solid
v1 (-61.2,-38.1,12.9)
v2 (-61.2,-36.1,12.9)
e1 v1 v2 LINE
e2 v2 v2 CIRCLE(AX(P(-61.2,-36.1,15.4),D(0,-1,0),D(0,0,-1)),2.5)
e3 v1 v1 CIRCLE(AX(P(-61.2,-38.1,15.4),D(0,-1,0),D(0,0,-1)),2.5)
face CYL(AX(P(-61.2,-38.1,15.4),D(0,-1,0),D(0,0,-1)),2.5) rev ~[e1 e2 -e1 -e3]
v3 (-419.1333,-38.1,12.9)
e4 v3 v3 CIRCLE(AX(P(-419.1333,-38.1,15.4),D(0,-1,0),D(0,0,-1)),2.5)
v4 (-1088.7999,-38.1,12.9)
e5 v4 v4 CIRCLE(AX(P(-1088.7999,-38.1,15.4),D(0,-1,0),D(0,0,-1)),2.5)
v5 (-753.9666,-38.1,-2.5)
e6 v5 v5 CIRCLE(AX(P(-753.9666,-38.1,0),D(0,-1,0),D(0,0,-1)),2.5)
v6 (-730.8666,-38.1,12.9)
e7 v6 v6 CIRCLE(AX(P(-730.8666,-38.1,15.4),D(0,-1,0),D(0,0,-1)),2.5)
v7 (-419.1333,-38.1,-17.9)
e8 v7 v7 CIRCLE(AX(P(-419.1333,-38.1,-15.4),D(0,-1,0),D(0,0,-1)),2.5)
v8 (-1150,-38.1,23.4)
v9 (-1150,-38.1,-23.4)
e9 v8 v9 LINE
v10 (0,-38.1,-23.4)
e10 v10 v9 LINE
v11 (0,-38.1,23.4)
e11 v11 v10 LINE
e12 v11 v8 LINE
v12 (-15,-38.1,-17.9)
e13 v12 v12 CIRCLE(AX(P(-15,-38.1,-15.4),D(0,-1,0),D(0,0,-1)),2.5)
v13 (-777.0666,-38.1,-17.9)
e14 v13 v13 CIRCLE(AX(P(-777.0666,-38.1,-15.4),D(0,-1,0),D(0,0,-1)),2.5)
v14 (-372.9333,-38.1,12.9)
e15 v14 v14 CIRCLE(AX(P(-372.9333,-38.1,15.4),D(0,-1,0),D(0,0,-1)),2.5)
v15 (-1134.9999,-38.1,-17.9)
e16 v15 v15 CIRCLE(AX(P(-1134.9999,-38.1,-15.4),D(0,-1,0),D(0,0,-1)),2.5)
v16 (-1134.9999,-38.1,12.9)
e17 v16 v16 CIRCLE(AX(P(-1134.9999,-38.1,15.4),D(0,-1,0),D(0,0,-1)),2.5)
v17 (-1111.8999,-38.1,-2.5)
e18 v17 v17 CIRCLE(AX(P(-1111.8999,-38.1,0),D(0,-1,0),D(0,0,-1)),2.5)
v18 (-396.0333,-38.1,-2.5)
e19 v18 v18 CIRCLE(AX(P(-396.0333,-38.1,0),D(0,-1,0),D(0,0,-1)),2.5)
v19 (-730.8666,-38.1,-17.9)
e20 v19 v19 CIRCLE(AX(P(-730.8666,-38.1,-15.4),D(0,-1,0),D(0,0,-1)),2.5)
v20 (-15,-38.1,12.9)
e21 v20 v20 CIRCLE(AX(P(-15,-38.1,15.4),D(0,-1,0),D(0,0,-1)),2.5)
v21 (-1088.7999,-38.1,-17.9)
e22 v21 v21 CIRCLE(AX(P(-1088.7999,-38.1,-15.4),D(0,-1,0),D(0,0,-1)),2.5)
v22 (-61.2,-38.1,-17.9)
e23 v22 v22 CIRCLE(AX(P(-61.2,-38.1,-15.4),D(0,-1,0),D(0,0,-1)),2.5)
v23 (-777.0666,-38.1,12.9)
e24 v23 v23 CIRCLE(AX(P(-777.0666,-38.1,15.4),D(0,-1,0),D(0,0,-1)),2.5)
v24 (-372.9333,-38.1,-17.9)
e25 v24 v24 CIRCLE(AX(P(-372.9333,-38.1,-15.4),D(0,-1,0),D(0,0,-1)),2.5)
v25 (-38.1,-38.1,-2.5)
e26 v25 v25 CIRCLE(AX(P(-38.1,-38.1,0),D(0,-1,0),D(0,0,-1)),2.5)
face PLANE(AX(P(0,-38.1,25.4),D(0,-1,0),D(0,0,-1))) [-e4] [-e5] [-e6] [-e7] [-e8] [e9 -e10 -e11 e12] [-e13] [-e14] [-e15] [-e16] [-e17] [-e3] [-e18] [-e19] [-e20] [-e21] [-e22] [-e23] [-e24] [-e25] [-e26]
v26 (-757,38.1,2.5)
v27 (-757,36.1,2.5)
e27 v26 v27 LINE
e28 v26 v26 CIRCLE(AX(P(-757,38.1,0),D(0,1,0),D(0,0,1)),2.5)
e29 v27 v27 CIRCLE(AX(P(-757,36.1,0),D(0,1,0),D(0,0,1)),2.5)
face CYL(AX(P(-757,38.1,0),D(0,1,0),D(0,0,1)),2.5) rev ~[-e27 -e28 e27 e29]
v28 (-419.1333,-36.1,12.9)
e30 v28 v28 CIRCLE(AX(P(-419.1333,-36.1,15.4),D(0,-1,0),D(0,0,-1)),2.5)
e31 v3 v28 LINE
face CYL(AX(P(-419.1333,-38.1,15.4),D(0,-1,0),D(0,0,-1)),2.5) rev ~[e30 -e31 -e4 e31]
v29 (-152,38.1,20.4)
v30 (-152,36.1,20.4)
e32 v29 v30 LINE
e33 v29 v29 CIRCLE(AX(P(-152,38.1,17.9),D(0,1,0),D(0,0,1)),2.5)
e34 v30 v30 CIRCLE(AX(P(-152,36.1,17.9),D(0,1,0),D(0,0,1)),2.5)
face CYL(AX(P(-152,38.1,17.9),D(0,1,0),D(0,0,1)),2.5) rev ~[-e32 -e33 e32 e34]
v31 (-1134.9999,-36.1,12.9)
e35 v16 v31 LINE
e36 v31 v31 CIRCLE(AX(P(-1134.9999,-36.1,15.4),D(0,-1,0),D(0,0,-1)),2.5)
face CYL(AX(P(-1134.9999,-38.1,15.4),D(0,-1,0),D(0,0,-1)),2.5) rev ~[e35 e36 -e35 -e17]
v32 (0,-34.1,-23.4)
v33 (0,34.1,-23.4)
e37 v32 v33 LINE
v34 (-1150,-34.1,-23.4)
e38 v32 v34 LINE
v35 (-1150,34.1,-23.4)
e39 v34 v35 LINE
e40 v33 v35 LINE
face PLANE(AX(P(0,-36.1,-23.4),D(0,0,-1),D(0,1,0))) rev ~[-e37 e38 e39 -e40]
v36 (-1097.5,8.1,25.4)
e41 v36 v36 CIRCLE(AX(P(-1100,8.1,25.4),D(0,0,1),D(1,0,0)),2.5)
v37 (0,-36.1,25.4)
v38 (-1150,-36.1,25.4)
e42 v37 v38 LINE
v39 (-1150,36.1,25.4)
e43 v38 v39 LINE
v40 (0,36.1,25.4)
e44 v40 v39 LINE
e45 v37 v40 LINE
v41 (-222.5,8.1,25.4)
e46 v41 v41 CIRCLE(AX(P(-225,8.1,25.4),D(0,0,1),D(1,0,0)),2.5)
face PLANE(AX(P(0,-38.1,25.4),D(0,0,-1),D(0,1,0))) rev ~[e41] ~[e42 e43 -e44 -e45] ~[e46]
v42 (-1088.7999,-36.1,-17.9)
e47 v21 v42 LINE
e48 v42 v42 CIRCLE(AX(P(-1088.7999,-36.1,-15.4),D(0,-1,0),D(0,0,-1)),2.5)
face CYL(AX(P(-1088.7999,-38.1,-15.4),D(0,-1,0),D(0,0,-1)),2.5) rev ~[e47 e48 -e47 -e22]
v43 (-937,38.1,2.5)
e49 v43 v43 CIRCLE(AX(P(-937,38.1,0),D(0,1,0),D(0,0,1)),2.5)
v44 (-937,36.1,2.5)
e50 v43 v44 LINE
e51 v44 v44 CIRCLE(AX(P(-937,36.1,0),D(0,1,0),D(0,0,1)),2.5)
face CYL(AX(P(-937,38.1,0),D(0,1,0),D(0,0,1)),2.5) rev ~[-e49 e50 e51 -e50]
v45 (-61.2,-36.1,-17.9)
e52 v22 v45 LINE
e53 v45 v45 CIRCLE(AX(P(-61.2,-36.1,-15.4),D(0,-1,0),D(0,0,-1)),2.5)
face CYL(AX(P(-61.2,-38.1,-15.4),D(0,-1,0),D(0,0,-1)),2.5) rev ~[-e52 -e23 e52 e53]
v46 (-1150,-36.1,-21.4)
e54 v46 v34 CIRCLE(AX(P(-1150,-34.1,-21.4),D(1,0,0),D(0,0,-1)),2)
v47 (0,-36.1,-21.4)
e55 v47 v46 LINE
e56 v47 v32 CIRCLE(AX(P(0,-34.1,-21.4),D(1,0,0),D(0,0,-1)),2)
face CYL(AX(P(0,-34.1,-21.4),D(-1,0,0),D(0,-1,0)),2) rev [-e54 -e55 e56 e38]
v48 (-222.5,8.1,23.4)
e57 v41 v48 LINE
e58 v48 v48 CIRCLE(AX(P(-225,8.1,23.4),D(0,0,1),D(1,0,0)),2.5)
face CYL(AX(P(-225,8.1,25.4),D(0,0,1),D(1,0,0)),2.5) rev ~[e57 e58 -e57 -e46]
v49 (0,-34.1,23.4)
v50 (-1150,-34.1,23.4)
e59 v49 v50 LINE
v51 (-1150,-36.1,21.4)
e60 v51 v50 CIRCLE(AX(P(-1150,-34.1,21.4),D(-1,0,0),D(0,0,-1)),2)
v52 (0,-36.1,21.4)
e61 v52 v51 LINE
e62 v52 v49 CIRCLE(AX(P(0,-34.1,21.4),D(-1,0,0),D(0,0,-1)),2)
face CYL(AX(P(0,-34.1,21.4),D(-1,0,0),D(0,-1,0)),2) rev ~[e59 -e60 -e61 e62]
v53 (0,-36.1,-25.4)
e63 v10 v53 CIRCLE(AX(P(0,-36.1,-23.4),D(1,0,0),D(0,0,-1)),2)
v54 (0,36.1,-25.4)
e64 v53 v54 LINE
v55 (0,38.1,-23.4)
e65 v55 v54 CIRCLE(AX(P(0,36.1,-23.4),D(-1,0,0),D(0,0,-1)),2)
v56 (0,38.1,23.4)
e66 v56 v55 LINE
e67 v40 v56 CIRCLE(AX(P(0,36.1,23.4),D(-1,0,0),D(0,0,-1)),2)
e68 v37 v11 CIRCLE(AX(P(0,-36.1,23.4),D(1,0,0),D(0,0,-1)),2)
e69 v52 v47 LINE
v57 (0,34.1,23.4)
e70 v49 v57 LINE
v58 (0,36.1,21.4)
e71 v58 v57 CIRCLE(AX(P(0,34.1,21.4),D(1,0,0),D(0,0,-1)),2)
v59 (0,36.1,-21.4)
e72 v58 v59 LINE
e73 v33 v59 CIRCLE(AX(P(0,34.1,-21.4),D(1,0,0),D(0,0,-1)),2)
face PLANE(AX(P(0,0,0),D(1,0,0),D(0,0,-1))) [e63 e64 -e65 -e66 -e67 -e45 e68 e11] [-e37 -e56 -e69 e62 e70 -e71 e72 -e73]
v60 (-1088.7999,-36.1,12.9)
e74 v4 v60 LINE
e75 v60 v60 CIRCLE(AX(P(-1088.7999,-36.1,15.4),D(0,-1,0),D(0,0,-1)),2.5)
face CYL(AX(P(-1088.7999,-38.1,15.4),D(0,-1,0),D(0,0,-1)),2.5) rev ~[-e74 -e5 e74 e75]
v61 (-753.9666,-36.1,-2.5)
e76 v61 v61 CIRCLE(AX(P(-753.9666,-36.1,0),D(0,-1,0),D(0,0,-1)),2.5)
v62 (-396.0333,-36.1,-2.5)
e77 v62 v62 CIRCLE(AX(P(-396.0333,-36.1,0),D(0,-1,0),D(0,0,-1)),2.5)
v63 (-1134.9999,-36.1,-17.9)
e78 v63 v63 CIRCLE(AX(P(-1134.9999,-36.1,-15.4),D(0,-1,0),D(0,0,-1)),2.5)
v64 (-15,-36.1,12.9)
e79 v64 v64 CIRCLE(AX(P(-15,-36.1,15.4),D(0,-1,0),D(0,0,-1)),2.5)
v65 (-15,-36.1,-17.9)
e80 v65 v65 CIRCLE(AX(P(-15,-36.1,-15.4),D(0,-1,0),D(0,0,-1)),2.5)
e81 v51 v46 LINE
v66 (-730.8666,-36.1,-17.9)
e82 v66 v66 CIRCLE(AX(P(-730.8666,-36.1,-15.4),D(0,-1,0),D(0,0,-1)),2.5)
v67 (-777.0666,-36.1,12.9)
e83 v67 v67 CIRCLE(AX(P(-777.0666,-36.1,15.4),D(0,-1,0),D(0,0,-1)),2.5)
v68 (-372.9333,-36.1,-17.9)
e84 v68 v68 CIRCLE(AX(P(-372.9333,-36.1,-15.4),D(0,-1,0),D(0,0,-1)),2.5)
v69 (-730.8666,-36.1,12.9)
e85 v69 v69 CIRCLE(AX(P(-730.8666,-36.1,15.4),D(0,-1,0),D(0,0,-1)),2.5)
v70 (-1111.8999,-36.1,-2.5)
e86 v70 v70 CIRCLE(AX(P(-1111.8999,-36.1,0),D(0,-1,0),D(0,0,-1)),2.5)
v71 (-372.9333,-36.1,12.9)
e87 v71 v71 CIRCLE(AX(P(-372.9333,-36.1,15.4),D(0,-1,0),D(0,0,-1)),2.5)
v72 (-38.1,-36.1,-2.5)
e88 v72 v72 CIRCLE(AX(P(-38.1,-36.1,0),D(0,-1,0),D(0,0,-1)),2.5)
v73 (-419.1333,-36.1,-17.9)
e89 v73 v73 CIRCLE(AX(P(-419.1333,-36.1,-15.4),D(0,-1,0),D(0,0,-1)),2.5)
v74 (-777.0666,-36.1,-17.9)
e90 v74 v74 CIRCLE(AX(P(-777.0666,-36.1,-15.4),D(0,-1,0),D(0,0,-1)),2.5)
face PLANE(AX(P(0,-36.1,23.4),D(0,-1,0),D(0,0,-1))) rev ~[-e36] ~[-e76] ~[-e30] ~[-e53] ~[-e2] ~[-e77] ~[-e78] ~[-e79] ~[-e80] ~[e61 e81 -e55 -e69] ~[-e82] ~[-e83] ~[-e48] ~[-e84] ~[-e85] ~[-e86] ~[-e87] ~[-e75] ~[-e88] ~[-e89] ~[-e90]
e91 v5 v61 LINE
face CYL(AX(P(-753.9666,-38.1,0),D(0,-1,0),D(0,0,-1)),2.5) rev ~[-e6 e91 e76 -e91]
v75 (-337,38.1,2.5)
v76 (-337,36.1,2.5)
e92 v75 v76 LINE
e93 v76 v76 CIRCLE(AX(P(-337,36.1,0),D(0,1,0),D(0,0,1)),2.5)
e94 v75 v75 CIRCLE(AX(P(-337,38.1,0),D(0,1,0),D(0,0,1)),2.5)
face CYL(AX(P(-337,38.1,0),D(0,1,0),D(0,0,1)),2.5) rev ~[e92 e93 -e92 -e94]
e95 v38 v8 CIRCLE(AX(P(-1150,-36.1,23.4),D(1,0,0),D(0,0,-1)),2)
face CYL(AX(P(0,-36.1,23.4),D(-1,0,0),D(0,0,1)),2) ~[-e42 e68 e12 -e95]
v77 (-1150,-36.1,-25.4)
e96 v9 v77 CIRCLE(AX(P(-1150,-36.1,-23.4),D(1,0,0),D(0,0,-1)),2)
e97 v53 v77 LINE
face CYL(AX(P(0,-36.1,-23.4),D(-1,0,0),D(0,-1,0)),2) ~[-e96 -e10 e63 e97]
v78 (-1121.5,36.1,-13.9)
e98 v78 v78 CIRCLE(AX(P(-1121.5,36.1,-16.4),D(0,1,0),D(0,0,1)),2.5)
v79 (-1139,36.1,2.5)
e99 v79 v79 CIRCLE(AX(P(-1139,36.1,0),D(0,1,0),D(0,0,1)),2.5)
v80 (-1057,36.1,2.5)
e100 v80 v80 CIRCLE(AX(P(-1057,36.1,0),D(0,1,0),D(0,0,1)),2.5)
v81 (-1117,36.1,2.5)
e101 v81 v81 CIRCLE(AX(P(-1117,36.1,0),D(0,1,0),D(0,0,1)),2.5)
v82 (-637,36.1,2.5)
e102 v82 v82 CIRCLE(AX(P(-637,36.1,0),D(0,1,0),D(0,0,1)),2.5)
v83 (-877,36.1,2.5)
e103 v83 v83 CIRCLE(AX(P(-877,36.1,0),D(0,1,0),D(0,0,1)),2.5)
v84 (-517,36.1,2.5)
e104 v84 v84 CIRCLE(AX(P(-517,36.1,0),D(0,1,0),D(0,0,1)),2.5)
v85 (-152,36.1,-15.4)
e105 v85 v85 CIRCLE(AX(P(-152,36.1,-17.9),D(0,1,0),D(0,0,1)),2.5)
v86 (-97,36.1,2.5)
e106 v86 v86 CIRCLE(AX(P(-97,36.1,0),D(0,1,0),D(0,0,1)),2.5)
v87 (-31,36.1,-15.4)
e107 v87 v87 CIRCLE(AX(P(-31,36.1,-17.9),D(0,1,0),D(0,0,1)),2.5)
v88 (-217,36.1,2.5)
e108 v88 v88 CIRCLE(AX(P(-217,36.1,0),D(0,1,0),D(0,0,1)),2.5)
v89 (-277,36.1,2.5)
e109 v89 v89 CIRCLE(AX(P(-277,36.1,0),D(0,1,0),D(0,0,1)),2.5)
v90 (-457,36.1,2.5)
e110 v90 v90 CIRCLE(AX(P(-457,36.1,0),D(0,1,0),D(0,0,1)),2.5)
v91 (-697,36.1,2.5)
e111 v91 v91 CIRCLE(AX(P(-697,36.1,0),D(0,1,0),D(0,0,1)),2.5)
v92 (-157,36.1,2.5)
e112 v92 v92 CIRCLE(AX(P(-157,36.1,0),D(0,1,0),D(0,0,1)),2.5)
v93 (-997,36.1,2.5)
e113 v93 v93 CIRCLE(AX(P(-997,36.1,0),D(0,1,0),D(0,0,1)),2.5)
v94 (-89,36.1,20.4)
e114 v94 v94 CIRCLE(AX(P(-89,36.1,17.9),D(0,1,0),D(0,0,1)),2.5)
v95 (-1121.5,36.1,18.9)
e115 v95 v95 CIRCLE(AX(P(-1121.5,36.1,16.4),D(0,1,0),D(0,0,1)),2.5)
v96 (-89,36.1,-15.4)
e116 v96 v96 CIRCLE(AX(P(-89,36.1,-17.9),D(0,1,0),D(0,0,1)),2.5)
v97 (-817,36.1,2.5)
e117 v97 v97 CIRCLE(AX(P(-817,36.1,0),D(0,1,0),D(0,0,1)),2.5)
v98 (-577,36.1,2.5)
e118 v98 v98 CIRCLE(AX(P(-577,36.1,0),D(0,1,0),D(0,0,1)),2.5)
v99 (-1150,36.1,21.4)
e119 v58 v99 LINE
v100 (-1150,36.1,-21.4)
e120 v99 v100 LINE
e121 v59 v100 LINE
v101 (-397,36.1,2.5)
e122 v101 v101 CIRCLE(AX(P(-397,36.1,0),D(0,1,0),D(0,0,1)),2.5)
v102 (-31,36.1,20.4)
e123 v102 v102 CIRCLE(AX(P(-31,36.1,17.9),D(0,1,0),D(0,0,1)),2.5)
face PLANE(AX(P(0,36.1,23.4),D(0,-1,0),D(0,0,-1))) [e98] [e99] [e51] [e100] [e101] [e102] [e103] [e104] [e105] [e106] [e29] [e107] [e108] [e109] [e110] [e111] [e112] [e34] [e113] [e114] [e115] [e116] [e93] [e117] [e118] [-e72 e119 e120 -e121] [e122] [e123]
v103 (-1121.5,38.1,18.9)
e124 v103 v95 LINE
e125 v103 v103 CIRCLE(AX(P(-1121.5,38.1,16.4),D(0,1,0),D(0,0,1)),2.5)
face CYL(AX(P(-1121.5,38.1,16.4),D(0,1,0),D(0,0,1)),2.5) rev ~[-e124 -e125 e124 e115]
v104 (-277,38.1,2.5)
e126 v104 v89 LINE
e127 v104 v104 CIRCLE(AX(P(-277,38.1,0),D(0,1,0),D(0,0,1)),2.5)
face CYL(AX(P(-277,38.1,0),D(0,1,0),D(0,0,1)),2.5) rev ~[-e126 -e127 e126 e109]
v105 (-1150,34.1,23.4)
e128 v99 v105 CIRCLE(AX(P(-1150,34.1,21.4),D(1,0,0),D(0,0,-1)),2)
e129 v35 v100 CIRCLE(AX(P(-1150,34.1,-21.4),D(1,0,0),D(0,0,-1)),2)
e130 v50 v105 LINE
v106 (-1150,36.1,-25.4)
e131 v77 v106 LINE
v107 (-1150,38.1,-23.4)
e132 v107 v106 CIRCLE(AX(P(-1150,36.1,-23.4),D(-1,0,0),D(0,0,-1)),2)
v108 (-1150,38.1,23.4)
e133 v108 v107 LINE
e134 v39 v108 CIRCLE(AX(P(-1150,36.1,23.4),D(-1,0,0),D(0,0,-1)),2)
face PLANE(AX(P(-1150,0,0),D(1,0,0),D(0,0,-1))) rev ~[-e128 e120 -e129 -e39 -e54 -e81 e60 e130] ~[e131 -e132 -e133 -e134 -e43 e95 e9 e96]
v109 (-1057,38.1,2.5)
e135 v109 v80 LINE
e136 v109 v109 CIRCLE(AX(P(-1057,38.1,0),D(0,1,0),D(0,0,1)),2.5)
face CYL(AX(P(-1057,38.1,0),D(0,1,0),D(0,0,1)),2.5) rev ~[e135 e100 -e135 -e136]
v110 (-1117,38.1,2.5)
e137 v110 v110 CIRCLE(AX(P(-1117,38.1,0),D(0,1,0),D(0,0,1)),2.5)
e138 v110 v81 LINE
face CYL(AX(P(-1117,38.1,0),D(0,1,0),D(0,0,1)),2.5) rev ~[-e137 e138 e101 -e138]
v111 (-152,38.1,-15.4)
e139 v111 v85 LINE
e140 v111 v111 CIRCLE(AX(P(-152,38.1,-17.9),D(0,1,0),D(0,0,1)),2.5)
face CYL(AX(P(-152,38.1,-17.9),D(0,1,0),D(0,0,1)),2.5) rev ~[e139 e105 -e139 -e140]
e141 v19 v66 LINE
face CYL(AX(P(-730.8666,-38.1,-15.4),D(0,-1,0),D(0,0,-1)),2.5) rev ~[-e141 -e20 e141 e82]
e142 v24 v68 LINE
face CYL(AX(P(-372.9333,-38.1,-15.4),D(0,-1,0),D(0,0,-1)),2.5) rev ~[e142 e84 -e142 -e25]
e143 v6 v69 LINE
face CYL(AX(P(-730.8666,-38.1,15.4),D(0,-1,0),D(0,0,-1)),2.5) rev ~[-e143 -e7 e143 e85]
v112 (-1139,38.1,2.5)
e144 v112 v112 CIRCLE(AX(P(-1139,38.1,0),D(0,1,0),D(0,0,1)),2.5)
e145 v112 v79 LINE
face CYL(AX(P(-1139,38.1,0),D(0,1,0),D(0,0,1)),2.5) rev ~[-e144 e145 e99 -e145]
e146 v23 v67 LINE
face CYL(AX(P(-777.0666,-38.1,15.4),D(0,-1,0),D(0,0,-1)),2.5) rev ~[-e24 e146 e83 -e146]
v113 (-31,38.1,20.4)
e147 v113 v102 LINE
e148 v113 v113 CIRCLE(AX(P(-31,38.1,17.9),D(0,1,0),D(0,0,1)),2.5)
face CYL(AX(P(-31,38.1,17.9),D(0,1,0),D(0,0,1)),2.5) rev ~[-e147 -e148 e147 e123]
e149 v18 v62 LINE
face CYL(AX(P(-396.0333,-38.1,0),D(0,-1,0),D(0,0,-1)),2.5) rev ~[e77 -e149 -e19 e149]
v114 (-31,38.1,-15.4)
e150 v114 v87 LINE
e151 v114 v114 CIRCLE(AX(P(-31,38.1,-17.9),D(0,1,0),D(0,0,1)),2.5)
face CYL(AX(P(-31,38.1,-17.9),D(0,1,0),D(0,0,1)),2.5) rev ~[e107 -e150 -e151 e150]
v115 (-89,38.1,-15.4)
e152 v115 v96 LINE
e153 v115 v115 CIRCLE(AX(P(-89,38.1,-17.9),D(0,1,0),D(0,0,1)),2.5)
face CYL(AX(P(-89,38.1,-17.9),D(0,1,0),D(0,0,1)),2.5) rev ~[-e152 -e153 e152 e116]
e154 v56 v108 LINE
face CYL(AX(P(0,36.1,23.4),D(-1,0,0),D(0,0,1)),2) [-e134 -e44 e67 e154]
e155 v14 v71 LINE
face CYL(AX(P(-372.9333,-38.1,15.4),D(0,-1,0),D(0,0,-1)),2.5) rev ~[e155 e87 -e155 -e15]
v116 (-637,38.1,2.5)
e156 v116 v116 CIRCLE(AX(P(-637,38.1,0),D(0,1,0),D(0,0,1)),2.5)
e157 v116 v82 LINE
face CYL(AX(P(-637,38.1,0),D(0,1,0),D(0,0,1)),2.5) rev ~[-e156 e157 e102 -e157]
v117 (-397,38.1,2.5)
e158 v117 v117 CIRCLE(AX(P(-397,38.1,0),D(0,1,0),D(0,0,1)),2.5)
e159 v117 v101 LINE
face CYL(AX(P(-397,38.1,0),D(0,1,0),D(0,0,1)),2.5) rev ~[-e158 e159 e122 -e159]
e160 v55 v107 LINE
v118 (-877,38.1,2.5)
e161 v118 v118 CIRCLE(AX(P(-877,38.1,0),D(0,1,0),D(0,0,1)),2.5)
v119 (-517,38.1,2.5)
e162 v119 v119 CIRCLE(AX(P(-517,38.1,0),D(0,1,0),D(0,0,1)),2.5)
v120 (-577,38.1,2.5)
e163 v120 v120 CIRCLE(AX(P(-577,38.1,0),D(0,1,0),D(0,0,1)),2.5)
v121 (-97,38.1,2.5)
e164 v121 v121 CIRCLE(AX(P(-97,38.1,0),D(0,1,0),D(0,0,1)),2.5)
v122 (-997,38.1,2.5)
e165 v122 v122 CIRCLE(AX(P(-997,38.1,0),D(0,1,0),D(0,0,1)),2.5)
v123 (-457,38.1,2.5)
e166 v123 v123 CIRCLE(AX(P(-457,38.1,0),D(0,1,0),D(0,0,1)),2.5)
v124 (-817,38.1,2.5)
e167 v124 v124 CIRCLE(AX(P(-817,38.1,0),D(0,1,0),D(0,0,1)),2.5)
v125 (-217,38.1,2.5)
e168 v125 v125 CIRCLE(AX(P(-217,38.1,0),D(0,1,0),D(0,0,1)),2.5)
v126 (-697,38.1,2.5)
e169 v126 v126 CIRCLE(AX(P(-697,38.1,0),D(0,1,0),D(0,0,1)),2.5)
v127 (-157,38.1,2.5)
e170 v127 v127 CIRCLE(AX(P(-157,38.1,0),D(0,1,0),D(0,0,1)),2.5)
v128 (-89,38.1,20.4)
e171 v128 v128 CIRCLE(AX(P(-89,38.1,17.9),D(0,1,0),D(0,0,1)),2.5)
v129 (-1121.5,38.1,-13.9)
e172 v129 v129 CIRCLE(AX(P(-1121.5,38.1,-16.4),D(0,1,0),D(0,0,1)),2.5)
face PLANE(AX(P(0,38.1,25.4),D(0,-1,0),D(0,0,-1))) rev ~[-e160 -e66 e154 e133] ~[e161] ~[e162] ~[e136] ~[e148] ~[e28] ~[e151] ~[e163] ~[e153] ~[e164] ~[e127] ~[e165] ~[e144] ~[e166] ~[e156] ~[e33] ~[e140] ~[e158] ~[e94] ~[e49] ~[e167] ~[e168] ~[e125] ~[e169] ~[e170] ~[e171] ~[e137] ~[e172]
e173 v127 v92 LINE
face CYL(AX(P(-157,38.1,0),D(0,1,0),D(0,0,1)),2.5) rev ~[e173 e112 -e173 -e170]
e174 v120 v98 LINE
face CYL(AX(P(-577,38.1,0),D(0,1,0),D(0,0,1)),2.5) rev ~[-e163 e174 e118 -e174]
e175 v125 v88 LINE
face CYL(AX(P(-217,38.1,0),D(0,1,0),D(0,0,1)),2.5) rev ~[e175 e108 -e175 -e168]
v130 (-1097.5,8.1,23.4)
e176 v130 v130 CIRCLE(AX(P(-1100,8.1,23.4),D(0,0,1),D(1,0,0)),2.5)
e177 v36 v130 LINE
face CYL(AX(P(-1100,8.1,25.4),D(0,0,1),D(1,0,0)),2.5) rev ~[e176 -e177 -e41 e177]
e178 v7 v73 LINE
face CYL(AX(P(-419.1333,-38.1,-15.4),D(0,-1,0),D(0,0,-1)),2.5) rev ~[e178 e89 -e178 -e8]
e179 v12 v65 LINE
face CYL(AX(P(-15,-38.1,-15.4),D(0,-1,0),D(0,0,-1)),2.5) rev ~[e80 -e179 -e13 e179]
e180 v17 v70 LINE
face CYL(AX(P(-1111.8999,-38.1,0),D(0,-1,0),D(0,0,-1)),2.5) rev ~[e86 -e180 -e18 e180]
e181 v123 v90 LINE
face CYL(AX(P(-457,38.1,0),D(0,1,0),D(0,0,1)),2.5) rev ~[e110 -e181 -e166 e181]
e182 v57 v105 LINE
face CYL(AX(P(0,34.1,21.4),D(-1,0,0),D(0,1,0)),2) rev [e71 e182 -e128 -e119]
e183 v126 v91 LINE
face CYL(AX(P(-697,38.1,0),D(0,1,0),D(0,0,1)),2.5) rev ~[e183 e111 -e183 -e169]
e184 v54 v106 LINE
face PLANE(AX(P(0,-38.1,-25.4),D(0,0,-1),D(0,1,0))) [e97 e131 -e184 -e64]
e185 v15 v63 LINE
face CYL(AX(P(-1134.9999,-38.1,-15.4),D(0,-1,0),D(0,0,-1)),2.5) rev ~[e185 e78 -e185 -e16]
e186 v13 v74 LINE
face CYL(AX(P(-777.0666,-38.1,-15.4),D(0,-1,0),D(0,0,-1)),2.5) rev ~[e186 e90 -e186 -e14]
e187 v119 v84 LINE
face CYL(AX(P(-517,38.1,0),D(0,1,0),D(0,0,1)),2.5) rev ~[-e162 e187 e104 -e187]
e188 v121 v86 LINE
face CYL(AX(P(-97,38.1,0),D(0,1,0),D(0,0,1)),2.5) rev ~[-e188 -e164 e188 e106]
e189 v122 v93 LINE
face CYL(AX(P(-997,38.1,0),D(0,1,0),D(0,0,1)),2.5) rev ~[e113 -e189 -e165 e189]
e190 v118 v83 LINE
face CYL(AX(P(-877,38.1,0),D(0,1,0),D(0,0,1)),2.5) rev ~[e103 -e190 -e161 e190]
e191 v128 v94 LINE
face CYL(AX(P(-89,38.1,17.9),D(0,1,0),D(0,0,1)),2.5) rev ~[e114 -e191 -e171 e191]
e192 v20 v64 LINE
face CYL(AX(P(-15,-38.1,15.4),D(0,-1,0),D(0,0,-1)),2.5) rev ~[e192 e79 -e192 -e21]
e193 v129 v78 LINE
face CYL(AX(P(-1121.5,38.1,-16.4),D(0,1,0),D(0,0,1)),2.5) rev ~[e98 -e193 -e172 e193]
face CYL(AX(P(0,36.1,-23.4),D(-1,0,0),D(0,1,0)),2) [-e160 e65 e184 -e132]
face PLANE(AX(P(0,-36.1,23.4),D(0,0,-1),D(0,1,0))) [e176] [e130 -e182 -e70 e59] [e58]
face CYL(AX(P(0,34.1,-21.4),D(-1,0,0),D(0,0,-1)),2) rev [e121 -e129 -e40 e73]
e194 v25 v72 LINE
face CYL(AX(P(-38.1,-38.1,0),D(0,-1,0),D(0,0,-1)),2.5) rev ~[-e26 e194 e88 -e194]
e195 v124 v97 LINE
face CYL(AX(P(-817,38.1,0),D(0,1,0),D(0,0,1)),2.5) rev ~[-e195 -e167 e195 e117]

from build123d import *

# Parameters (mm, degrees)
SKETCH1_W             = 50.8
SKETCH1_H             = 76.2
BOSS_EXTRUDE1_DEPTH   = 1150
SKETCH2_W             = 46.8
SKETCH2_H             = 72.2
CUT_EXTRUDE1_DEPTH    = 1151.911278075
FILLET2_R             = 2
CROQUIS1_R            = 2.5
CORTAR_EXTRUIR1_DEPTH = 5
MATRIZL1_COUNT        = 4
MATRIZL1_PITCH        = 357.9333
CROQUIS2_R            = 2.5
CORTAR_EXTRUIR2_DEPTH = 10
CROQUIS3_R            = 2.5
CORTAR_EXTRUIR3_DEPTH = 10
CROQUIS4_R            = 2.5
CORTAR_EXTRUIR4_DEPTH = 10
MATRIZL2_COUNT        = 18
MATRIZL2_PITCH        = 60
CROQUIS5_R            = 2.5
CORTAR_EXTRUIR5_DEPTH = 10


with BuildPart() as part:
    # Sketch1 → Boss-Extrude1 (new body)
    with BuildSketch(Plane(origin=(0, 0, 0), x_dir=(0, 0, -1), z_dir=(1, 0, 0))):
        Rectangle(SKETCH1_W, SKETCH1_H)
    extrude(amount=-BOSS_EXTRUDE1_DEPTH)

    # Sketch2 → Cut-Extrude1 (cut, through all)
    with BuildSketch(Plane(origin=(0, 0, 0), x_dir=(0, 0, -1), z_dir=(1, 0, 0))):
        Rectangle(SKETCH2_W, SKETCH2_H)
    extrude(amount=-CUT_EXTRUDE1_DEPTH, mode=Mode.SUBTRACT)

    # Fillet2
    fillet2_edges = [part.edges().sort_by_distance(p)[0] for p in [
        (-575, -36.1, 23.4),
        (-575, 36.1, 23.4),
        (-575, 36.1, -23.4),
        (-575, -36.1, -23.4),
        (-575, 38.1, 25.4),
        (-575, 38.1, -25.4),
        (-575, -38.1, -25.4),
        (-575, -38.1, 25.4),
    ]]
    fillet(fillet2_edges, radius=FILLET2_R)

    # Croquis1 → Cortar-Extruir1 (cut)
    with BuildSketch(Plane.XZ.offset(38.1)):
        with Locations(Location((-38.1, 0, 0), (0, 0, 270))):
            Circle(CROQUIS1_R)
        with Locations(Location((-61.2, 15.4, 0), (0, 0, 270))):
            Circle(CROQUIS1_R)
        with Locations(Location((-15, 15.4, 0), (0, 0, 270))):
            Circle(CROQUIS1_R)
        with Locations(Location((-15, -15.4, 0), (0, 0, 270))):
            Circle(CROQUIS1_R)
        with Locations(Location((-61.2, -15.4, 0), (0, 0, 270))):
            Circle(CROQUIS1_R)
    cortar_extruir1 = extrude(amount=-CORTAR_EXTRUIR1_DEPTH, mode=Mode.SUBTRACT)

    # MatrizL1: Cortar-Extruir1 ×4
    with Locations(*[(-i * MATRIZL1_PITCH, 0, 0) for i in range(1, MATRIZL1_COUNT)]):
        add(cortar_extruir1, mode=Mode.SUBTRACT)

    # Croquis2 → Cortar-Extruir2 (cut)
    with BuildSketch(Plane.XY.offset(25.4)):
        with Locations((-225, 8.1)):
            Circle(CROQUIS2_R)
        with Locations((-1100, 8.1)):
            Circle(CROQUIS2_R)
    extrude(amount=-CORTAR_EXTRUIR2_DEPTH, mode=Mode.SUBTRACT)

    # Croquis3 → Cortar-Extruir3 (cut)
    with BuildSketch(Plane(origin=(0, 38.1, 0), x_dir=(1, 0, 0), z_dir=(0, 1, 0))):
        with Locations(Location((-152, 17.9, 0), (0, 0, 270))):
            Circle(CROQUIS3_R)
        with Locations(Location((-152, -17.9, 0), (0, 0, 270))):
            Circle(CROQUIS3_R)
        with Locations(Location((-89, -17.9, 0), (0, 0, 270))):
            Circle(CROQUIS3_R)
        with Locations(Location((-89, 17.9, 0), (0, 0, 270))):
            Circle(CROQUIS3_R)
        with Locations(Location((-31, 17.9, 0), (0, 0, 270))):
            Circle(CROQUIS3_R)
        with Locations(Location((-31, -17.9, 0), (0, 0, 270))):
            Circle(CROQUIS3_R)
    extrude(amount=-CORTAR_EXTRUIR3_DEPTH, mode=Mode.SUBTRACT)

    # Croquis4 → Cortar-Extruir4 (cut)
    with BuildSketch(Plane(origin=(0, 38.1, 0), x_dir=(1, 0, 0), z_dir=(0, 1, 0))):
        with Locations(Location((-1117, 0, 0), (0, 0, 270))):
            Circle(CROQUIS4_R)
    cortar_extruir4 = extrude(amount=-CORTAR_EXTRUIR4_DEPTH, mode=Mode.SUBTRACT)

    # MatrizL2: Cortar-Extruir4 ×18
    with Locations(*[(i * MATRIZL2_PITCH, 0, 0) for i in range(1, MATRIZL2_COUNT)]):
        add(cortar_extruir4, mode=Mode.SUBTRACT)

    # Croquis5 → Cortar-Extruir5 (cut)
    with BuildSketch(Plane(origin=(0, 38.1, 0), x_dir=(1, 0, 0), z_dir=(0, 1, 0))):
        with Locations(Location((-1121.5, 16.4, 0), (0, 0, 270))):
            Circle(CROQUIS5_R)
        with Locations(Location((-1121.5, -16.4, 0), (0, 0, 270))):
            Circle(CROQUIS5_R)
        with Locations(Location((-1139, 0, 0), (0, 0, 270))):
            Circle(CROQUIS5_R)
    extrude(amount=-CORTAR_EXTRUIR5_DEPTH, mode=Mode.SUBTRACT)


solid = part.part
